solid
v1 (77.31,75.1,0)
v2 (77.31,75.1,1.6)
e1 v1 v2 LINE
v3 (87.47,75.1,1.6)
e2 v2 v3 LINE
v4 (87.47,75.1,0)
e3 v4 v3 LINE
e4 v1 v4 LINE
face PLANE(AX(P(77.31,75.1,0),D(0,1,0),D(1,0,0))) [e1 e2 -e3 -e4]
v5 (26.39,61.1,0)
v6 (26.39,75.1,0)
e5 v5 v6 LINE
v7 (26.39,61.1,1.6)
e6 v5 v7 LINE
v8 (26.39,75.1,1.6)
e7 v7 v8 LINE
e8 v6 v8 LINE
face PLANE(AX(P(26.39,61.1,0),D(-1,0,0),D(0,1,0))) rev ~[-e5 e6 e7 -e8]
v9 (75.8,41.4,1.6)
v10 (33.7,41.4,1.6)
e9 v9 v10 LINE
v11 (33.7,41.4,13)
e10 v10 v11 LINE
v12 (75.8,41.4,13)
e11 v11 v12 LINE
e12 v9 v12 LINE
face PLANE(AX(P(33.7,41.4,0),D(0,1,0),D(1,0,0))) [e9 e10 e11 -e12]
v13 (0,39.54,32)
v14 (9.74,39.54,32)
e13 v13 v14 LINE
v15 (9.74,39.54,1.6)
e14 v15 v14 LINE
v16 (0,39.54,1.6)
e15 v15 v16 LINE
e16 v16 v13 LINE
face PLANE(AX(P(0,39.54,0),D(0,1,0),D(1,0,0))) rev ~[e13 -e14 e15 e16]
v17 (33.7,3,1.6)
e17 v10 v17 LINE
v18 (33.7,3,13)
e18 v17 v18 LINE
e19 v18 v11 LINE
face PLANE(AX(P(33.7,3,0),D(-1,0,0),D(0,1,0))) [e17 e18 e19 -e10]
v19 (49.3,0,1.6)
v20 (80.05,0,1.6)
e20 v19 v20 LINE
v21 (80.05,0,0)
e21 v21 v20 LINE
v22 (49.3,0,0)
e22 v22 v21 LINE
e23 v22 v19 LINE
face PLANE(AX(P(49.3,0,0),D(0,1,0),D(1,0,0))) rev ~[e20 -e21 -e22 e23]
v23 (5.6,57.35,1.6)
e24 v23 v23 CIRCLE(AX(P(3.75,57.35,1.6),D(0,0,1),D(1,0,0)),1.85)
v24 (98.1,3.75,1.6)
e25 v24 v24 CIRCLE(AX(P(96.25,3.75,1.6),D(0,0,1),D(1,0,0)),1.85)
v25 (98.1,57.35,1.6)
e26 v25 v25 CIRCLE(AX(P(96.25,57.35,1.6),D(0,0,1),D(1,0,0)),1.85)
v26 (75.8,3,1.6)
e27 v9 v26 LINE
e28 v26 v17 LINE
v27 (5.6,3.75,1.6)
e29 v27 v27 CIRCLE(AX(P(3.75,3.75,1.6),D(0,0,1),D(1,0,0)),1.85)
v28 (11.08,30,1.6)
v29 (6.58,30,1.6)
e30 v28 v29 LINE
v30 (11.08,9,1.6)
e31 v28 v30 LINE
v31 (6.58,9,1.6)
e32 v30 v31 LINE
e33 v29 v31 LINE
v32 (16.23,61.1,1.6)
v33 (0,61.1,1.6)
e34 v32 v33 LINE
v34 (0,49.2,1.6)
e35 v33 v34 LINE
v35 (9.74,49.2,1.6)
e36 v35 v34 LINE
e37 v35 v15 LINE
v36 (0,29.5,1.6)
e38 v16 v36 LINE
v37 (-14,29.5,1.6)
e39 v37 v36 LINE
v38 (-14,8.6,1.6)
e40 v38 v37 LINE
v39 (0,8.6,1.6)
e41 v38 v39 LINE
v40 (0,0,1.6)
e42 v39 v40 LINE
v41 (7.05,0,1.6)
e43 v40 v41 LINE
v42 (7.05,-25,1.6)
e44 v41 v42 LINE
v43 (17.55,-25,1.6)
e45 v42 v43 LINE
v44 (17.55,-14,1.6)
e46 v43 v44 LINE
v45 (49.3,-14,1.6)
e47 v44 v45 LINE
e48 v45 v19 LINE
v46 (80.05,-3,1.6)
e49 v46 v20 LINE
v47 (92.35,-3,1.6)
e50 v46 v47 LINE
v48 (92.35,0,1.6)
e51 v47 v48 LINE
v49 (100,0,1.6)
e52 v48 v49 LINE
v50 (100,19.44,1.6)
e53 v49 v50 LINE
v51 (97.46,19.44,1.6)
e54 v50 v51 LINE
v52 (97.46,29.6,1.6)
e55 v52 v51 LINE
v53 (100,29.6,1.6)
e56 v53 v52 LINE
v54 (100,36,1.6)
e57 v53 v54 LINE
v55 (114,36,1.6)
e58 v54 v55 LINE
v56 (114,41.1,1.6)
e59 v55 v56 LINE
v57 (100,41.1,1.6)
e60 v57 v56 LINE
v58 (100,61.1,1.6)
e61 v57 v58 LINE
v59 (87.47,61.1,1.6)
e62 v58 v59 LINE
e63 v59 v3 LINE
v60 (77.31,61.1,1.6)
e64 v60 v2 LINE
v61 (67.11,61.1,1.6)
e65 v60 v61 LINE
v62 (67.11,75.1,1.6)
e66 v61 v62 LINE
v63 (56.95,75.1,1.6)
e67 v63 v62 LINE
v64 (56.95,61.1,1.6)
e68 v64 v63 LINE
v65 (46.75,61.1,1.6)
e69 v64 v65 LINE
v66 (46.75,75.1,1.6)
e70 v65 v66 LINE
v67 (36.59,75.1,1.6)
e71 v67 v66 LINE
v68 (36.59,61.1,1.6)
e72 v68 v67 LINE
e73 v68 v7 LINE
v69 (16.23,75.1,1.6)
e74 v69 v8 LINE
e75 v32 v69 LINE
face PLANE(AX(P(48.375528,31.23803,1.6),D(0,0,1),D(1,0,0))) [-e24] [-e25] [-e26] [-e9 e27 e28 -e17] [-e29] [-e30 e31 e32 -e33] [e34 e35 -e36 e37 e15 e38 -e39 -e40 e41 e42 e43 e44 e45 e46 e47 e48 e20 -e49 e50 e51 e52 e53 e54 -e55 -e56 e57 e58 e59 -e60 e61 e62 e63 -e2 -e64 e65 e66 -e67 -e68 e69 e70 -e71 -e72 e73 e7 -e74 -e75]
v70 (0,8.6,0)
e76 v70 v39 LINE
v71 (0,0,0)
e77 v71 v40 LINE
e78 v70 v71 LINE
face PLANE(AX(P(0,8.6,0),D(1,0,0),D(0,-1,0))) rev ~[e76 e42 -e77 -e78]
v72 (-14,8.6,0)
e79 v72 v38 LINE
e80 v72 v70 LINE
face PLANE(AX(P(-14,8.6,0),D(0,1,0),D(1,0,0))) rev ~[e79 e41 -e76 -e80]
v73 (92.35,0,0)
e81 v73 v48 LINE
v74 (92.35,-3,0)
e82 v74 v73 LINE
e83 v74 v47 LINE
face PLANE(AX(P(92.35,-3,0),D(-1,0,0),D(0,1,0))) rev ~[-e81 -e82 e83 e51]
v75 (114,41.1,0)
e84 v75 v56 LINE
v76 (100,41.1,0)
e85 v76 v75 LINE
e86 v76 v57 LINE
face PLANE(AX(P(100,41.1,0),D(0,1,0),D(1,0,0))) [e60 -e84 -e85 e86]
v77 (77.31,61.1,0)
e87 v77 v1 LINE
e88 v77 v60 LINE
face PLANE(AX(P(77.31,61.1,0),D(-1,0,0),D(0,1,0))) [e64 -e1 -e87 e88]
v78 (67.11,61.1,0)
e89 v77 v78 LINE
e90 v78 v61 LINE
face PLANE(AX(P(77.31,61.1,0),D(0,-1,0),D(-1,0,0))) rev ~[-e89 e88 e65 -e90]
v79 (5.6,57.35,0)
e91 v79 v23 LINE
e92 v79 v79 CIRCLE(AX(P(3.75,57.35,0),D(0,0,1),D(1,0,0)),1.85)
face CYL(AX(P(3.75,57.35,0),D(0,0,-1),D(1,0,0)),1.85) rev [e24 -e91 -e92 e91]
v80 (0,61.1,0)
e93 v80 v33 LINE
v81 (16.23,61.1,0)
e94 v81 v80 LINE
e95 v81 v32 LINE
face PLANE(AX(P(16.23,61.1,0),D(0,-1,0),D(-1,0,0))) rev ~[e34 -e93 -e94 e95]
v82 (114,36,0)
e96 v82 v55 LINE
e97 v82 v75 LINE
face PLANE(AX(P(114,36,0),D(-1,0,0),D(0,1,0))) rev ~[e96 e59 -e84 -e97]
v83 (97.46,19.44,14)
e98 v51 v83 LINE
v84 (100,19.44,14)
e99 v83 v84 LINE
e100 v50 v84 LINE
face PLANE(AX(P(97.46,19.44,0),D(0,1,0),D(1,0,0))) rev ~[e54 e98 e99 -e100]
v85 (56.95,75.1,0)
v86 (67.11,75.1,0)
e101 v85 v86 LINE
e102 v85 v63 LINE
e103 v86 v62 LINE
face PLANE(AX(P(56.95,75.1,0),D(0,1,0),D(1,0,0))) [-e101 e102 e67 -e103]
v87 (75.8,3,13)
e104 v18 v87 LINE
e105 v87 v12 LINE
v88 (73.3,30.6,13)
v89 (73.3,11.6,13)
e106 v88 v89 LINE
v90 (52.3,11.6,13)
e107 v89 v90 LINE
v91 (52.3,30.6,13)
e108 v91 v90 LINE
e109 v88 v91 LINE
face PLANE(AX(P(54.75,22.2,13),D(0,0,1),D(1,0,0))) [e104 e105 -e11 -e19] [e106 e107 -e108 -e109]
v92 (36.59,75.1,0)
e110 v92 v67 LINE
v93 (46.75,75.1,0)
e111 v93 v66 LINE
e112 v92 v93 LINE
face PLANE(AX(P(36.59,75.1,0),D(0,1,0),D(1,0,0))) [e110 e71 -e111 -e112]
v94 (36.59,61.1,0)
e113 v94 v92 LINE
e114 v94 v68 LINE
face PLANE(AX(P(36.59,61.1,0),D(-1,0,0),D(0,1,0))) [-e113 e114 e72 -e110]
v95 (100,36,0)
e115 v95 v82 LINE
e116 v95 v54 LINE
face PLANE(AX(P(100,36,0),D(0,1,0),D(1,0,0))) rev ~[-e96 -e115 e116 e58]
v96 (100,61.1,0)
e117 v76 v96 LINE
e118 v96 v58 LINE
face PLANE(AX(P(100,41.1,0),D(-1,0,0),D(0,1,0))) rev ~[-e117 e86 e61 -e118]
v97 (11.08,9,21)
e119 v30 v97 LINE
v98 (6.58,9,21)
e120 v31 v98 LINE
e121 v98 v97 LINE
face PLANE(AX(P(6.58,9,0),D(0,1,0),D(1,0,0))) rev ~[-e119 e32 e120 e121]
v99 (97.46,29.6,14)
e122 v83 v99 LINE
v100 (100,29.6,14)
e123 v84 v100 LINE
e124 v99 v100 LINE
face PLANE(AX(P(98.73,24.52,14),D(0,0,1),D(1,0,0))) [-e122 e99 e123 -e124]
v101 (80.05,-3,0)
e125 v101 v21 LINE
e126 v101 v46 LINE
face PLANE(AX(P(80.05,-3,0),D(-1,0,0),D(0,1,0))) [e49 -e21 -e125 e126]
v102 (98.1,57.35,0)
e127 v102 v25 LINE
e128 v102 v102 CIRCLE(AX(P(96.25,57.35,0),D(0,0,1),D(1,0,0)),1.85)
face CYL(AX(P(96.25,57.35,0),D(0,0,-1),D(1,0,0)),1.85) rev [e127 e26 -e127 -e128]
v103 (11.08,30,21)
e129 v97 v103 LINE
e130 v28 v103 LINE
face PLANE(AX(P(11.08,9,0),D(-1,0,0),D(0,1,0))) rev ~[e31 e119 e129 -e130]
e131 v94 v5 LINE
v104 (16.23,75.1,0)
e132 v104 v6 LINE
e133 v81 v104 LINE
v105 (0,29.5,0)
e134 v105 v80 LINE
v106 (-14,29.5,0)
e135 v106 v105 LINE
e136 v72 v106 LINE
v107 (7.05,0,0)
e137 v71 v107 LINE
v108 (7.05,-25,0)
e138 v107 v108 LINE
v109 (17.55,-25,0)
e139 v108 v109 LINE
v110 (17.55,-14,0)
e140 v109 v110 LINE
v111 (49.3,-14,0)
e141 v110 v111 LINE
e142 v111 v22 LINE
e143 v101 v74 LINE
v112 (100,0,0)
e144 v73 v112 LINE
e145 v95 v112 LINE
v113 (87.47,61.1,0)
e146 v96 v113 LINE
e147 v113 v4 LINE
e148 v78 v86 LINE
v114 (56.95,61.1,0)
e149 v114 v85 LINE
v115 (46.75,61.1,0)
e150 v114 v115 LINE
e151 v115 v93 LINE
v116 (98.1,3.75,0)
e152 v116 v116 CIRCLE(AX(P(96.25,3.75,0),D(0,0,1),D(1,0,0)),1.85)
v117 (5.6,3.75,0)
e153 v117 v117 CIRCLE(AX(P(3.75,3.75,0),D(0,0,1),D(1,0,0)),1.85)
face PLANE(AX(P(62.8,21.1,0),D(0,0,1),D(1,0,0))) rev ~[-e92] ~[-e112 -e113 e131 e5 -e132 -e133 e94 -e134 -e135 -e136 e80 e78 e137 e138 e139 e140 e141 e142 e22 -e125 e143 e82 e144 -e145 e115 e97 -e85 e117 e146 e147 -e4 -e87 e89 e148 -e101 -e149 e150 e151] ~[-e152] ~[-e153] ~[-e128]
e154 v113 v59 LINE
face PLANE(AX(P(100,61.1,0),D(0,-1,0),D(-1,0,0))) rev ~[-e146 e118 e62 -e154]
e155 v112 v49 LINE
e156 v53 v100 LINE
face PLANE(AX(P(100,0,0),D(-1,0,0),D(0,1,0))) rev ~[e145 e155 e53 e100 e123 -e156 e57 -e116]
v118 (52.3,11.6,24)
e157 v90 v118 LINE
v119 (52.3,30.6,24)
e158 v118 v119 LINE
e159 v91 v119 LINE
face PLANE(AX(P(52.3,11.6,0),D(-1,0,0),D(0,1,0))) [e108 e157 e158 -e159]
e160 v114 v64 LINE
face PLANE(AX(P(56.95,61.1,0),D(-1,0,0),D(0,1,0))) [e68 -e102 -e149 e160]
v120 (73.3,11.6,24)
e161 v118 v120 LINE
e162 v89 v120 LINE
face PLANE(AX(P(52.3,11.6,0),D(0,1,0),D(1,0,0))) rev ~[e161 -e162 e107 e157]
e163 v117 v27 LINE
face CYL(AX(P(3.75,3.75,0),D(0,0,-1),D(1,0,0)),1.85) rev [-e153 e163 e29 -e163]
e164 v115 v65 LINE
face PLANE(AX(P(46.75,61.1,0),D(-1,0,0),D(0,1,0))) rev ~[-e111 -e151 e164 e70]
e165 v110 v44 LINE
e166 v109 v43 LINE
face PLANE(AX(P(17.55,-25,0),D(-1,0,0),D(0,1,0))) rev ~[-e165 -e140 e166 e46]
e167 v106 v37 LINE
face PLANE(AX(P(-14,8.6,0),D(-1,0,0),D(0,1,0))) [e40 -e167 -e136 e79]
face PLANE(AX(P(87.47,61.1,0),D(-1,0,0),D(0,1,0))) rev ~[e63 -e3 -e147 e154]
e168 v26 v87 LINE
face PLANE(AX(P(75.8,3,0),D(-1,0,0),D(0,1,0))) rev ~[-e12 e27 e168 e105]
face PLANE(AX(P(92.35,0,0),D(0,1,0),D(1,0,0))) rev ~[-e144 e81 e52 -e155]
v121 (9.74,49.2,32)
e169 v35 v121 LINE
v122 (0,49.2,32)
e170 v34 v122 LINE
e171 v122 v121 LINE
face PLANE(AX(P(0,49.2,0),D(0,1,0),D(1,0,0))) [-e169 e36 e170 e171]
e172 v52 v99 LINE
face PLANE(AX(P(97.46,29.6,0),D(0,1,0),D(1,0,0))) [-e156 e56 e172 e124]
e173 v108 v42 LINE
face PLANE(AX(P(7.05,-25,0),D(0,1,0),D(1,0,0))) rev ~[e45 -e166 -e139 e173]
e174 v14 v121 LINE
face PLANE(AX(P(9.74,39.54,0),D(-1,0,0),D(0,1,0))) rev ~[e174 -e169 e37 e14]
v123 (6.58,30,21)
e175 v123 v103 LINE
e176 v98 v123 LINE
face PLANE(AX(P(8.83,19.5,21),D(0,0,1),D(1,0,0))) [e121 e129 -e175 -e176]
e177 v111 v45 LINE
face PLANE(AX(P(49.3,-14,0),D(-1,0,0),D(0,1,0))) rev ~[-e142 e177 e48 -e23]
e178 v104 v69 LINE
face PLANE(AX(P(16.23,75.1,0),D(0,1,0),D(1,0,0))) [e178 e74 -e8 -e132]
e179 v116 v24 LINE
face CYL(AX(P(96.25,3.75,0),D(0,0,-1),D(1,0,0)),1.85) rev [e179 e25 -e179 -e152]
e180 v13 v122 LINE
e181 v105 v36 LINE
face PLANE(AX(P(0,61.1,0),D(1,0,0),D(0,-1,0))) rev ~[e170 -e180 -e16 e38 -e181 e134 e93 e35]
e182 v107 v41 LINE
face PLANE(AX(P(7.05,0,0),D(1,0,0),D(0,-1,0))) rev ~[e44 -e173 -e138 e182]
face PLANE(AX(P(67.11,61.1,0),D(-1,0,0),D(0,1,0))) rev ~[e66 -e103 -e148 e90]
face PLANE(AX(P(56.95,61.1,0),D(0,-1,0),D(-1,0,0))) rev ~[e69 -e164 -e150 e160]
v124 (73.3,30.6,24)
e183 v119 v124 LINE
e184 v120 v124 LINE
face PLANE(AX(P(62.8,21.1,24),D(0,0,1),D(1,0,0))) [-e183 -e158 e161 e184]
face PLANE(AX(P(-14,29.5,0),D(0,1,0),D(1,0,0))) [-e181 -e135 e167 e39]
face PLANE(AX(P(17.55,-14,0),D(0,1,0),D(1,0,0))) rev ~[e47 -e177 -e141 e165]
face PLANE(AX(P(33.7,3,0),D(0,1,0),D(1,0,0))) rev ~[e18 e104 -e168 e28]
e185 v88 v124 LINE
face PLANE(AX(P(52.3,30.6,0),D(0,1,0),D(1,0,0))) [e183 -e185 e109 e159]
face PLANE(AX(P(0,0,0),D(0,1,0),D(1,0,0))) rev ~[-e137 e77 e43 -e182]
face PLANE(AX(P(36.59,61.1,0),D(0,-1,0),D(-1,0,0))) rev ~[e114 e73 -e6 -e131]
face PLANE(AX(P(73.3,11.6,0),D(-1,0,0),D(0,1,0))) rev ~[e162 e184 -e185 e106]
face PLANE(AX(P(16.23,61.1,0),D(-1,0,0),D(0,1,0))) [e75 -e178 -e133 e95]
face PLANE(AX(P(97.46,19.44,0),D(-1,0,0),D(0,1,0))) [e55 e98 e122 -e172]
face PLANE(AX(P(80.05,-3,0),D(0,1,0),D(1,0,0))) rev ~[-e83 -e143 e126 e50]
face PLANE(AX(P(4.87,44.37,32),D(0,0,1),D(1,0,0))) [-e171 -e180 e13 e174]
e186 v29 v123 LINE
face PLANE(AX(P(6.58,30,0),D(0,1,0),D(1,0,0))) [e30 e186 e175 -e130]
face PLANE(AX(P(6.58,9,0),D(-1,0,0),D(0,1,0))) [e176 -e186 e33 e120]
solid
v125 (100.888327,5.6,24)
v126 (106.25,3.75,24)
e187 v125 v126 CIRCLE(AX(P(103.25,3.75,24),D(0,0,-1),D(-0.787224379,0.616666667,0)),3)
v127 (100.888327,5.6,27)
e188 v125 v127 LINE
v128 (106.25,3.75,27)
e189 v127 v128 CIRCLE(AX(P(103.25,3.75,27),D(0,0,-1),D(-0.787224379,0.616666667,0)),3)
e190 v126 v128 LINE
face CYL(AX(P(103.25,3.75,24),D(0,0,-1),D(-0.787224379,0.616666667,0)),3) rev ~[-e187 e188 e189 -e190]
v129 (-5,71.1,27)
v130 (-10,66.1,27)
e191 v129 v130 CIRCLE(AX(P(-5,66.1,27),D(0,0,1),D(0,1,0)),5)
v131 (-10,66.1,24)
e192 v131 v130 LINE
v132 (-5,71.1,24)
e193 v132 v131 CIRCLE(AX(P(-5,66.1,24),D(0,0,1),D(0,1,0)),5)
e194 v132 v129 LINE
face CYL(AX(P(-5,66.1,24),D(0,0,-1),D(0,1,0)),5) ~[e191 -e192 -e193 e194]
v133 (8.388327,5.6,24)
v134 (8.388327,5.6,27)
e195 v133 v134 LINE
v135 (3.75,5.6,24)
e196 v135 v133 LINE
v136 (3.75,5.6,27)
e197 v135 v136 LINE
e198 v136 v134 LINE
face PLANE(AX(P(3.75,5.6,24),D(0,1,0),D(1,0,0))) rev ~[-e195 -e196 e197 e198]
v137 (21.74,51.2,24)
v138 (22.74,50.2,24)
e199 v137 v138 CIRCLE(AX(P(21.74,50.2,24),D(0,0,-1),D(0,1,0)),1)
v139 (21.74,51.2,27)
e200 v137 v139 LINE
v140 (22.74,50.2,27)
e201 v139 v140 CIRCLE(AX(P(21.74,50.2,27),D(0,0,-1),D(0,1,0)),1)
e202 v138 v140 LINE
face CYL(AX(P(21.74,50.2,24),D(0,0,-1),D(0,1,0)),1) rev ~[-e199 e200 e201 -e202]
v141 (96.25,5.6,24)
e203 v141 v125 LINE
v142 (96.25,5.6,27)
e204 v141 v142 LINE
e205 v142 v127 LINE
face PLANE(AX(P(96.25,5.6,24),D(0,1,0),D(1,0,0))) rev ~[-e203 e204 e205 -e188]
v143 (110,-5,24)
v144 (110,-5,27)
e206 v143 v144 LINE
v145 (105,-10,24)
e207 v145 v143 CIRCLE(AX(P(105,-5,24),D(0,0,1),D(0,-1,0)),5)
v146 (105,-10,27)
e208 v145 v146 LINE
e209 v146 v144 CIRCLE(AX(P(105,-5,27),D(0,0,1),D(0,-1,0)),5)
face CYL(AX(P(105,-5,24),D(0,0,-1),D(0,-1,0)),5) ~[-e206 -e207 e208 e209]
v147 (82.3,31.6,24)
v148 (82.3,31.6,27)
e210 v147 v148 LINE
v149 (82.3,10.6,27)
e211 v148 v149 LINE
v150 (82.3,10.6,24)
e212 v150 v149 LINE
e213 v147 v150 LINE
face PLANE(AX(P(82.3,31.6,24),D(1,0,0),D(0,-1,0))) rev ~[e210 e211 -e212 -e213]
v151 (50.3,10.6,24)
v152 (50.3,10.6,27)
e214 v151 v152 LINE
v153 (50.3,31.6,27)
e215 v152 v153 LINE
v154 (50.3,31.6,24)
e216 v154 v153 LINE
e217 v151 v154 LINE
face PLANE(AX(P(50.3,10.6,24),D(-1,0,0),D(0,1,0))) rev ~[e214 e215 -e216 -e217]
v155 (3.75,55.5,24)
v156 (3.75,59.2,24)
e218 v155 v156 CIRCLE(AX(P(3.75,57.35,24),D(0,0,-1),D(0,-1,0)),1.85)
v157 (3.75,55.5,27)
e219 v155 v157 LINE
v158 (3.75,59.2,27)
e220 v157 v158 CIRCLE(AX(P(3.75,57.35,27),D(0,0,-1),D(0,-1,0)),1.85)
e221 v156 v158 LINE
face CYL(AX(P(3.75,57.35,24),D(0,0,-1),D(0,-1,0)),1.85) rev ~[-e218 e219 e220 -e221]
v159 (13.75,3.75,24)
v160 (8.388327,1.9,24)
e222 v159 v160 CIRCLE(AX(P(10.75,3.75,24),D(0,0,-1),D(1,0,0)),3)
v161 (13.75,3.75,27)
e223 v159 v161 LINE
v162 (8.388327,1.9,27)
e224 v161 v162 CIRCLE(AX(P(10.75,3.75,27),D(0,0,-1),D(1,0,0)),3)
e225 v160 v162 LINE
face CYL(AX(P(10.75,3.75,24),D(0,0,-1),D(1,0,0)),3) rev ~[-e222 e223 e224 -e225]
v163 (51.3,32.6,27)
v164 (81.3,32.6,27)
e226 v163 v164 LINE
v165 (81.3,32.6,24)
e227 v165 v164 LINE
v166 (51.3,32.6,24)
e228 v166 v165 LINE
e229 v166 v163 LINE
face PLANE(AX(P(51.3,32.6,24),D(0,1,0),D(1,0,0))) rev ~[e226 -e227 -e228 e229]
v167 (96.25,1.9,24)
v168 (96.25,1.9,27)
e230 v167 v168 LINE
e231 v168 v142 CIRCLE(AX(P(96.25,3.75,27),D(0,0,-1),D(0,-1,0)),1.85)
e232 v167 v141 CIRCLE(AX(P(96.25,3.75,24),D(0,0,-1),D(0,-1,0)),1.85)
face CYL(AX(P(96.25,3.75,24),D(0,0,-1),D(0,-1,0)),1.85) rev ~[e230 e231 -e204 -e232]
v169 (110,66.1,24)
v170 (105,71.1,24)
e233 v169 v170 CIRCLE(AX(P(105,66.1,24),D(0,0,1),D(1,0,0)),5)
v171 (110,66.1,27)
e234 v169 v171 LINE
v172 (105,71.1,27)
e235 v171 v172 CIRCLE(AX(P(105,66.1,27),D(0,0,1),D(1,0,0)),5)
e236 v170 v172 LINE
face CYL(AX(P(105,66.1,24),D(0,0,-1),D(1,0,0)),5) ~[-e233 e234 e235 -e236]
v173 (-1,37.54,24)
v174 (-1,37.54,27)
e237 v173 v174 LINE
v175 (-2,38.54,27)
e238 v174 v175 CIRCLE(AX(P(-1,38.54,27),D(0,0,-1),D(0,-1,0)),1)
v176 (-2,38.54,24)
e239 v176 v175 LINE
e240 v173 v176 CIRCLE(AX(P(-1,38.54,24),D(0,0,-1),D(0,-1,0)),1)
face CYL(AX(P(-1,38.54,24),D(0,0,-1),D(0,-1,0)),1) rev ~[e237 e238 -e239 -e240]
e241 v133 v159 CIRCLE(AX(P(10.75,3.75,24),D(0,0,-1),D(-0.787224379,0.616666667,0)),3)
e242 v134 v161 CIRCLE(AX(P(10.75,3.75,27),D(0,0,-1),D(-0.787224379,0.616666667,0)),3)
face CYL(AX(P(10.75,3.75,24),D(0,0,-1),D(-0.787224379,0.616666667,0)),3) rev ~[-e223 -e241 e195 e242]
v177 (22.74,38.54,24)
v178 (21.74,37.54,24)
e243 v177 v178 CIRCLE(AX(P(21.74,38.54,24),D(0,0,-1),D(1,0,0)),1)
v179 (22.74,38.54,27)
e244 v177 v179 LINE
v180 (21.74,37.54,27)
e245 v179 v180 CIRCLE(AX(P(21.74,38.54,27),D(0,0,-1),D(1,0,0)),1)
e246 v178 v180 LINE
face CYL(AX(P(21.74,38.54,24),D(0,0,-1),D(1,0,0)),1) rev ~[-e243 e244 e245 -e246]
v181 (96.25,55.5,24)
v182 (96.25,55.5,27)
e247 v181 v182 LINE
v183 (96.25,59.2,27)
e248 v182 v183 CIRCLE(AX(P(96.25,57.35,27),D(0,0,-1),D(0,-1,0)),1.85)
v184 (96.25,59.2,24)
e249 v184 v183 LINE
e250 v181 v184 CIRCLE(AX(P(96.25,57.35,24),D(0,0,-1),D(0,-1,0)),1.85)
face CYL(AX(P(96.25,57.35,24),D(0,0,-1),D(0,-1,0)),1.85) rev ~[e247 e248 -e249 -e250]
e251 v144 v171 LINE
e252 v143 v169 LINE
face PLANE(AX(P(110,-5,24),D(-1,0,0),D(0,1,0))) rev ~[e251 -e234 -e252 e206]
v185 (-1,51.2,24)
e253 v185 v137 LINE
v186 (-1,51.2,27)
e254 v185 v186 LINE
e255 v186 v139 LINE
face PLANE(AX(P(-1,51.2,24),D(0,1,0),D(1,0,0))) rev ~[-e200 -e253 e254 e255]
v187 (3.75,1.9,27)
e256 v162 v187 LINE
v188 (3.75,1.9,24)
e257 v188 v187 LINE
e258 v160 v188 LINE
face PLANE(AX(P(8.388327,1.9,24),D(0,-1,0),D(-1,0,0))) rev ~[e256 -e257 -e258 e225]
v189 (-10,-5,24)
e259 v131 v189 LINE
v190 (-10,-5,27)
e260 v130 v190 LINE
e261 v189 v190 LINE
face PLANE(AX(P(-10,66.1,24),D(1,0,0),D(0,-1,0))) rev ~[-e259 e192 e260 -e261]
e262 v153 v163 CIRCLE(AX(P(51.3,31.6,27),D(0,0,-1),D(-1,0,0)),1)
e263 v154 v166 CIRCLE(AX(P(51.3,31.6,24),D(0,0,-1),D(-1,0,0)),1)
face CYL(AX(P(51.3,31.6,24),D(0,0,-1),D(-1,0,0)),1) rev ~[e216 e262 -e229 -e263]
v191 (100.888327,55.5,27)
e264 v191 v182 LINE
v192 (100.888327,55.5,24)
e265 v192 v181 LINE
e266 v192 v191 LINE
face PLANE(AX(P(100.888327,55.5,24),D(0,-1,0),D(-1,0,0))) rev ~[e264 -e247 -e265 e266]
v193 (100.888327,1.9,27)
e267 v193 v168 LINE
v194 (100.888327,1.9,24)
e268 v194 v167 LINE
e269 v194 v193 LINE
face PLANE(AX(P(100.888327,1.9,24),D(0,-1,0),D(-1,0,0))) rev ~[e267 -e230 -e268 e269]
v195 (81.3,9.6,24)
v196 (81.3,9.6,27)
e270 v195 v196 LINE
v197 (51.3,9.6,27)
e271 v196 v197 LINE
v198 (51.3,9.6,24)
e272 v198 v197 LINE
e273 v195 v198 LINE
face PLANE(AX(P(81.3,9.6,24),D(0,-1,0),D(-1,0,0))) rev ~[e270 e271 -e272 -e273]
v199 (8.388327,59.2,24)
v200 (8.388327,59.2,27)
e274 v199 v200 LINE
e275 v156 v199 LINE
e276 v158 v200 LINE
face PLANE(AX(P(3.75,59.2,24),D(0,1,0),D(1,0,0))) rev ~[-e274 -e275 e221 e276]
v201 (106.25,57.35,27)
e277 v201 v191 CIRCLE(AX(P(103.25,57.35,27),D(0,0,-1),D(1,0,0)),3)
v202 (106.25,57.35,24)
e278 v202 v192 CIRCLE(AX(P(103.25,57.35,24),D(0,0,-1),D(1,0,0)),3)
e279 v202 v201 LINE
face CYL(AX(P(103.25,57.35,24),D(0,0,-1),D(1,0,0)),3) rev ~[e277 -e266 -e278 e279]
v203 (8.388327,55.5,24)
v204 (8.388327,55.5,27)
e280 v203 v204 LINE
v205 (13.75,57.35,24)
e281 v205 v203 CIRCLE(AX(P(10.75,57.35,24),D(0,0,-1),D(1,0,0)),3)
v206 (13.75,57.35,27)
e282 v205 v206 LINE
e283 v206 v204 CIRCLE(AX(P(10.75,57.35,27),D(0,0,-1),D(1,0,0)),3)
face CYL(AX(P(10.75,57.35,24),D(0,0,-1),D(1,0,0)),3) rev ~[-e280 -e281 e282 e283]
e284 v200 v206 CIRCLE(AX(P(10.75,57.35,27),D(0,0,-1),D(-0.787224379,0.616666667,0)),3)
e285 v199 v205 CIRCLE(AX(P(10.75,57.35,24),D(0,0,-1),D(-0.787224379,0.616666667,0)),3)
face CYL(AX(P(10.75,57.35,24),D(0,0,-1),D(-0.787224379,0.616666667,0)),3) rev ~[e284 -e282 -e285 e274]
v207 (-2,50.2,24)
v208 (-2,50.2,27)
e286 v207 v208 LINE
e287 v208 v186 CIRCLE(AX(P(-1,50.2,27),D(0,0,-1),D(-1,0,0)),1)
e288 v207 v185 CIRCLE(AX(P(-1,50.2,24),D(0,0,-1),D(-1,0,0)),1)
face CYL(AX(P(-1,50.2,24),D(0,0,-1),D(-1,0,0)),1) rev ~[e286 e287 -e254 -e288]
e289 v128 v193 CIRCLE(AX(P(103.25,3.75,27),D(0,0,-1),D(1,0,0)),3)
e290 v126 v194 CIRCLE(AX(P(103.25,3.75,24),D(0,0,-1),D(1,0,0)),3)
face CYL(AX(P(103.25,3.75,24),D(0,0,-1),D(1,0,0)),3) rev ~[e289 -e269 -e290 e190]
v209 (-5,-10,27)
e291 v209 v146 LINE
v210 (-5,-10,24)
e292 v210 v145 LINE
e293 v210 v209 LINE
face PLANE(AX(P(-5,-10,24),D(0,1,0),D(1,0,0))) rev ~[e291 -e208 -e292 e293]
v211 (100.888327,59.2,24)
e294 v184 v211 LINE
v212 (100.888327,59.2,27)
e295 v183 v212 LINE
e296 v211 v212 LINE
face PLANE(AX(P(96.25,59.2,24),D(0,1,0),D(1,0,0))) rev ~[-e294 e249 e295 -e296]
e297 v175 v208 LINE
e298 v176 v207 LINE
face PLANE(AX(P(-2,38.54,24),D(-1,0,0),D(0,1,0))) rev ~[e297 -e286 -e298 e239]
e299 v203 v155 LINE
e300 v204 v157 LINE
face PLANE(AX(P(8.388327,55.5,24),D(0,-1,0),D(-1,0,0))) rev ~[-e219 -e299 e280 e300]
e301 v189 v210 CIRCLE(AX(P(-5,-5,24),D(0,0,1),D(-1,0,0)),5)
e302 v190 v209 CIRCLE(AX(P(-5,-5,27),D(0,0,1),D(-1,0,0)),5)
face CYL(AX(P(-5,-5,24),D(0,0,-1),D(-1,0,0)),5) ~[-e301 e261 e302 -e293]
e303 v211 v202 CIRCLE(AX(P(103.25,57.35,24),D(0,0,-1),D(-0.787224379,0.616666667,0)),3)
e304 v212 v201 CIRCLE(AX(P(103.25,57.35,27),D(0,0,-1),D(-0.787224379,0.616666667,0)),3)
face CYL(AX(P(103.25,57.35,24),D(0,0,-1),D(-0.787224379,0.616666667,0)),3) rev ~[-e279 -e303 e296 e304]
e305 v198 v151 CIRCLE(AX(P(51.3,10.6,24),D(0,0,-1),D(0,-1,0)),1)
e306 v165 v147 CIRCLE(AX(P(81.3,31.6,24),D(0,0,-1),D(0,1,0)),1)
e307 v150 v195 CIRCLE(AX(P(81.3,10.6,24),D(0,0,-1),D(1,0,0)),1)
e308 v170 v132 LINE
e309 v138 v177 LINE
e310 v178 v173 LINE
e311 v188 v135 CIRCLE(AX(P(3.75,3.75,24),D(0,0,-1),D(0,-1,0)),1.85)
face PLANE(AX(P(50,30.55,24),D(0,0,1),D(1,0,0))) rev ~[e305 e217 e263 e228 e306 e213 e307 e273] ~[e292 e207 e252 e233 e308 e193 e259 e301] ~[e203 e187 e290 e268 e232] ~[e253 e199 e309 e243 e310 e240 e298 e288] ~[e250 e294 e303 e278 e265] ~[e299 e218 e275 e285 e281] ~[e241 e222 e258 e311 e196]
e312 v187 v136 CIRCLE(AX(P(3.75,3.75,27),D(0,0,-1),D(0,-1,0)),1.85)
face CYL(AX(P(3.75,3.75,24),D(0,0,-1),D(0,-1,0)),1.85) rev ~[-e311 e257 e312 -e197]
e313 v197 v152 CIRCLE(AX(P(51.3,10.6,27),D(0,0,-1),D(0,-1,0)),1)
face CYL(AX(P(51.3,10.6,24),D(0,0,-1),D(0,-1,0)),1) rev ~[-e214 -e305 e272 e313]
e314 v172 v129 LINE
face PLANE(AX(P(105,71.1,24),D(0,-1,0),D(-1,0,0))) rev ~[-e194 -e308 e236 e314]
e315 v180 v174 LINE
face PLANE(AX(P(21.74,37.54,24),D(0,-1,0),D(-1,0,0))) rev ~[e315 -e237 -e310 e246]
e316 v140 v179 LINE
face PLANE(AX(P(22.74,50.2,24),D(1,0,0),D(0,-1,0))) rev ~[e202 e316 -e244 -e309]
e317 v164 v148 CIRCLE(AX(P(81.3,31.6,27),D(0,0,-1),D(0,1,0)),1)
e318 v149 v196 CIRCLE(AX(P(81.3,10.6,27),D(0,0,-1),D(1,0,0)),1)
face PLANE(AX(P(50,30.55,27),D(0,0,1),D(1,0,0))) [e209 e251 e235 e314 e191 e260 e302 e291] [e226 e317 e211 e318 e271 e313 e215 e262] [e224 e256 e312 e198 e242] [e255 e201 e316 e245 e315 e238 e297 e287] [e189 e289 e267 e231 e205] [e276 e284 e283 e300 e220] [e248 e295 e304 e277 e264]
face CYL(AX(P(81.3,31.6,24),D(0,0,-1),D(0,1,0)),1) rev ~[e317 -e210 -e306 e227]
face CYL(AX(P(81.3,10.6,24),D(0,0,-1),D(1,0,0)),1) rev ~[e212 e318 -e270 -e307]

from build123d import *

# Parameters (mm, degrees)
F0_R     = 1.85
F0_W     = 4.5
F0_H     = 21
F0_W_2   = 14
F0_H_2   = 20.9
F0_W_3   = 0.05
F0_H_3   = 14
F0_W_4   = 31.75
F0_W_5   = 9.74
F0_H_4   = 9.66
F0_W_6   = 12.3
F0_H_5   = 3
F0_W_7   = 10.16
F0_W_8   = 2.54
F0_H_6   = 10.16
F0_H_7   = 5.1
F1_DEPTH = 1.6
F2_DEPTH = 32
F3_DEPTH = 21
F4_DEPTH = 14
F5_W     = 42.1
F5_H     = 38.4
F5_W_2   = 21
F5_H_2   = 19
F6_DEPTH = 13
F7_DEPTH = 24
F9_DEPTH = 3


with BuildPart() as f1:
    # F0 (on Top) → F1 (new body)
    with BuildSketch(Plane.XY):
        Polygon((0, 8.6), (0, 0), (7.05, 0), (17.5, 0), (17.55, 0), (49.3, 0), (80.05, 0), (92.35, 0), (100, 0), (100, 19.44), (97.46, 19.44), (97.46, 29.6), (100, 29.6), (100, 36), (100, 41.1), (100, 61.1), (87.47, 61.1), (77.31, 61.1), (67.11, 61.1), (56.95, 61.1), (46.75, 61.1), (36.59, 61.1), (26.39, 61.1), (16.23, 61.1), (0, 61.1), (0, 49.2), (9.74, 49.2), (9.74, 39.54), (0, 39.54), (0, 29.5), align=None)
        with Locations((3.75, 3.75)):
            Circle(F0_R, mode=Mode.SUBTRACT)
        with Locations((8.83, 19.5)):
            Rectangle(F0_W, F0_H, mode=Mode.SUBTRACT)
        with Locations((96.25, 3.75)):
            Circle(F0_R, mode=Mode.SUBTRACT)
        with Locations((3.75, 57.35)):
            Circle(F0_R, mode=Mode.SUBTRACT)
        with Locations((96.25, 57.35)):
            Circle(F0_R, mode=Mode.SUBTRACT)
        Polygon((17.5, 0), (7.05, 0), (7.05, -25), (17.55, -25), (17.55, -14), (17.5, -14), align=None)
        with Locations((-7, 19.05)):
            Rectangle(F0_W_2, F0_H_2)
        with Locations((17.525, -7)):
            Rectangle(F0_W_3, F0_H_3)
        with Locations((33.425, -7)):
            Rectangle(F0_W_4, F0_H_3)
        with Locations((4.87, 44.37)):
            Rectangle(F0_W_5, F0_H_4)
        with Locations((86.2, -1.5)):
            Rectangle(F0_W_6, F0_H_5)
        with Locations((21.31, 68.1)):
            Rectangle(F0_W_7, F0_H_3)
        with Locations((98.73, 24.52)):
            Rectangle(F0_W_8, F0_H_6)
        with Locations((41.67, 68.1)):
            Rectangle(F0_W_7, F0_H_3)
        with Locations((107, 38.55)):
            Rectangle(F0_W_2, F0_H_7)
        with Locations((62.03, 68.1)):
            Rectangle(F0_W_7, F0_H_3)
        with Locations((82.39, 68.1)):
            Rectangle(F0_W_7, F0_H_3)
        with Locations((8.83, 19.5)):
            Rectangle(F0_W, F0_H)
    extrude(amount=F1_DEPTH)

    # F0 (on Top) → F2 (join)
    with BuildSketch(Plane.XY):
        with Locations((4.87, 44.37)):
            Rectangle(F0_W_5, F0_H_4)
    extrude(amount=F2_DEPTH)

    # F0 (on Top) → F3 (join)
    with BuildSketch(Plane.XY):
        with Locations((8.83, 19.5)):
            Rectangle(F0_W, F0_H)
    extrude(amount=F3_DEPTH)

    # F0 (on Top) → F4 (join)
    with BuildSketch(Plane.XY):
        with Locations((98.73, 24.52)):
            Rectangle(F0_W_8, F0_H_6)
    extrude(amount=F4_DEPTH)

    # F5 (on Top) → F6 (join)
    with BuildSketch(Plane.XY):
        with Locations((54.75, 22.2)):
            Rectangle(F5_W, F5_H)
        with Locations((62.8, 21.1)):
            Rectangle(F5_W_2, F5_H_2, mode=Mode.SUBTRACT)
        with Locations((62.8, 21.1)):
            Rectangle(F5_W_2, F5_H_2)
    extrude(amount=F6_DEPTH)

    # F5 (on Top) → F7 (join)
    with BuildSketch(Plane.XY):
        with Locations((62.8, 21.1)):
            Rectangle(F5_W_2, F5_H_2)
    extrude(amount=F7_DEPTH)


with BuildPart() as f9:
    # F8 (on face) → F9 (new body)
    with BuildSketch(Plane.XY.offset(24)):
        with BuildLine():
            Line((105, 71.1), (-5, 71.1))
            ThreePointArc((-5, 71.1), (-8.5355339059, 69.6355339059), (-10, 66.1))
            Line((-10, 66.1), (-10, -5))
            ThreePointArc((-10, -5), (-8.5355339059, -8.5355339059), (-5, -10))
            Line((-5, -10), (105, -10))
            ThreePointArc((105, -10), (108.5355339059, -8.5355339059), (110, -5))
            Line((110, -5), (110, 66.1))
            ThreePointArc((110, 66.1), (108.5355339059, 69.6355339059), (105, 71.1))
        make_face()
        with BuildLine():
            ThreePointArc((3.75, 1.9), (1.9, 3.75), (3.75, 5.6))
            Line((3.75, 5.6), (8.3883268643, 5.6))
            ThreePointArc((8.3883268643, 5.6), (11.7285143312, 6.5859318933), (13.75, 3.75))
            ThreePointArc((13.75, 3.75), (11.7285143312, 0.9140681067), (8.3883268643, 1.9))
            Line((8.3883268643, 1.9), (3.75, 1.9))
        make_face(mode=Mode.SUBTRACT)
        with BuildLine():
            ThreePointArc((96.25, 1.9), (94.4, 3.75), (96.25, 5.6))
            Line((96.25, 5.6), (100.8883268643, 5.6))
            ThreePointArc((100.8883268643, 5.6), (104.2285143312, 6.5859318933), (106.25, 3.75))
            ThreePointArc((106.25, 3.75), (104.2285143312, 0.9140681067), (100.8883268643, 1.9))
            Line((100.8883268643, 1.9), (96.25, 1.9))
        make_face(mode=Mode.SUBTRACT)
        with BuildLine():
            ThreePointArc((50.3, 31.6), (50.5928932188, 32.3071067812), (51.3, 32.6))
            Line((51.3, 32.6), (81.3, 32.6))
            ThreePointArc((81.3, 32.6), (82.0071067812, 32.3071067812), (82.3, 31.6))
            Line((82.3, 31.6), (82.3, 10.6))
            ThreePointArc((82.3, 10.6), (82.0071067812, 9.8928932188), (81.3, 9.6))
            Line((81.3, 9.6), (51.3, 9.6))
            ThreePointArc((51.3, 9.6), (50.5928932188, 9.8928932188), (50.3, 10.6))
            Line((50.3, 10.6), (50.3, 31.6))
        make_face(mode=Mode.SUBTRACT)
        with BuildLine():
            Line((21.74, 37.54), (-1, 37.54))
            ThreePointArc((-1, 37.54), (-1.7071067812, 37.8328932188), (-2, 38.54))
            Line((-2, 38.54), (-2, 50.2))
            ThreePointArc((-2, 50.2), (-1.7071067812, 50.9071067812), (-1, 51.2))
            Line((-1, 51.2), (21.74, 51.2))
            ThreePointArc((21.74, 51.2), (22.4471067812, 50.9071067812), (22.74, 50.2))
            Line((22.74, 50.2), (22.74, 38.54))
            ThreePointArc((22.74, 38.54), (22.4471067812, 37.8328932188), (21.74, 37.54))
        make_face(mode=Mode.SUBTRACT)
        with BuildLine():
            ThreePointArc((3.75, 55.5), (1.9, 57.35), (3.75, 59.2))
            Line((3.75, 59.2), (8.3883268643, 59.2))
            ThreePointArc((8.3883268643, 59.2), (11.7285143312, 60.1859318933), (13.75, 57.35))
            ThreePointArc((13.75, 57.35), (11.7285143312, 54.5140681067), (8.3883268643, 55.5))
            Line((8.3883268643, 55.5), (3.75, 55.5))
        make_face(mode=Mode.SUBTRACT)
        with BuildLine():
            ThreePointArc((96.25, 55.5), (94.4, 57.35), (96.25, 59.2))
            Line((96.25, 59.2), (100.8883268643, 59.2))
            ThreePointArc((100.8883268643, 59.2), (104.2285143312, 60.1859318933), (106.25, 57.35))
            ThreePointArc((106.25, 57.35), (104.2285143312, 54.5140681067), (100.8883268643, 55.5))
            Line((100.8883268643, 55.5), (96.25, 55.5))
        make_face(mode=Mode.SUBTRACT)
    extrude(amount=F9_DEPTH)


solid = Compound([f1.part, f9.part])
